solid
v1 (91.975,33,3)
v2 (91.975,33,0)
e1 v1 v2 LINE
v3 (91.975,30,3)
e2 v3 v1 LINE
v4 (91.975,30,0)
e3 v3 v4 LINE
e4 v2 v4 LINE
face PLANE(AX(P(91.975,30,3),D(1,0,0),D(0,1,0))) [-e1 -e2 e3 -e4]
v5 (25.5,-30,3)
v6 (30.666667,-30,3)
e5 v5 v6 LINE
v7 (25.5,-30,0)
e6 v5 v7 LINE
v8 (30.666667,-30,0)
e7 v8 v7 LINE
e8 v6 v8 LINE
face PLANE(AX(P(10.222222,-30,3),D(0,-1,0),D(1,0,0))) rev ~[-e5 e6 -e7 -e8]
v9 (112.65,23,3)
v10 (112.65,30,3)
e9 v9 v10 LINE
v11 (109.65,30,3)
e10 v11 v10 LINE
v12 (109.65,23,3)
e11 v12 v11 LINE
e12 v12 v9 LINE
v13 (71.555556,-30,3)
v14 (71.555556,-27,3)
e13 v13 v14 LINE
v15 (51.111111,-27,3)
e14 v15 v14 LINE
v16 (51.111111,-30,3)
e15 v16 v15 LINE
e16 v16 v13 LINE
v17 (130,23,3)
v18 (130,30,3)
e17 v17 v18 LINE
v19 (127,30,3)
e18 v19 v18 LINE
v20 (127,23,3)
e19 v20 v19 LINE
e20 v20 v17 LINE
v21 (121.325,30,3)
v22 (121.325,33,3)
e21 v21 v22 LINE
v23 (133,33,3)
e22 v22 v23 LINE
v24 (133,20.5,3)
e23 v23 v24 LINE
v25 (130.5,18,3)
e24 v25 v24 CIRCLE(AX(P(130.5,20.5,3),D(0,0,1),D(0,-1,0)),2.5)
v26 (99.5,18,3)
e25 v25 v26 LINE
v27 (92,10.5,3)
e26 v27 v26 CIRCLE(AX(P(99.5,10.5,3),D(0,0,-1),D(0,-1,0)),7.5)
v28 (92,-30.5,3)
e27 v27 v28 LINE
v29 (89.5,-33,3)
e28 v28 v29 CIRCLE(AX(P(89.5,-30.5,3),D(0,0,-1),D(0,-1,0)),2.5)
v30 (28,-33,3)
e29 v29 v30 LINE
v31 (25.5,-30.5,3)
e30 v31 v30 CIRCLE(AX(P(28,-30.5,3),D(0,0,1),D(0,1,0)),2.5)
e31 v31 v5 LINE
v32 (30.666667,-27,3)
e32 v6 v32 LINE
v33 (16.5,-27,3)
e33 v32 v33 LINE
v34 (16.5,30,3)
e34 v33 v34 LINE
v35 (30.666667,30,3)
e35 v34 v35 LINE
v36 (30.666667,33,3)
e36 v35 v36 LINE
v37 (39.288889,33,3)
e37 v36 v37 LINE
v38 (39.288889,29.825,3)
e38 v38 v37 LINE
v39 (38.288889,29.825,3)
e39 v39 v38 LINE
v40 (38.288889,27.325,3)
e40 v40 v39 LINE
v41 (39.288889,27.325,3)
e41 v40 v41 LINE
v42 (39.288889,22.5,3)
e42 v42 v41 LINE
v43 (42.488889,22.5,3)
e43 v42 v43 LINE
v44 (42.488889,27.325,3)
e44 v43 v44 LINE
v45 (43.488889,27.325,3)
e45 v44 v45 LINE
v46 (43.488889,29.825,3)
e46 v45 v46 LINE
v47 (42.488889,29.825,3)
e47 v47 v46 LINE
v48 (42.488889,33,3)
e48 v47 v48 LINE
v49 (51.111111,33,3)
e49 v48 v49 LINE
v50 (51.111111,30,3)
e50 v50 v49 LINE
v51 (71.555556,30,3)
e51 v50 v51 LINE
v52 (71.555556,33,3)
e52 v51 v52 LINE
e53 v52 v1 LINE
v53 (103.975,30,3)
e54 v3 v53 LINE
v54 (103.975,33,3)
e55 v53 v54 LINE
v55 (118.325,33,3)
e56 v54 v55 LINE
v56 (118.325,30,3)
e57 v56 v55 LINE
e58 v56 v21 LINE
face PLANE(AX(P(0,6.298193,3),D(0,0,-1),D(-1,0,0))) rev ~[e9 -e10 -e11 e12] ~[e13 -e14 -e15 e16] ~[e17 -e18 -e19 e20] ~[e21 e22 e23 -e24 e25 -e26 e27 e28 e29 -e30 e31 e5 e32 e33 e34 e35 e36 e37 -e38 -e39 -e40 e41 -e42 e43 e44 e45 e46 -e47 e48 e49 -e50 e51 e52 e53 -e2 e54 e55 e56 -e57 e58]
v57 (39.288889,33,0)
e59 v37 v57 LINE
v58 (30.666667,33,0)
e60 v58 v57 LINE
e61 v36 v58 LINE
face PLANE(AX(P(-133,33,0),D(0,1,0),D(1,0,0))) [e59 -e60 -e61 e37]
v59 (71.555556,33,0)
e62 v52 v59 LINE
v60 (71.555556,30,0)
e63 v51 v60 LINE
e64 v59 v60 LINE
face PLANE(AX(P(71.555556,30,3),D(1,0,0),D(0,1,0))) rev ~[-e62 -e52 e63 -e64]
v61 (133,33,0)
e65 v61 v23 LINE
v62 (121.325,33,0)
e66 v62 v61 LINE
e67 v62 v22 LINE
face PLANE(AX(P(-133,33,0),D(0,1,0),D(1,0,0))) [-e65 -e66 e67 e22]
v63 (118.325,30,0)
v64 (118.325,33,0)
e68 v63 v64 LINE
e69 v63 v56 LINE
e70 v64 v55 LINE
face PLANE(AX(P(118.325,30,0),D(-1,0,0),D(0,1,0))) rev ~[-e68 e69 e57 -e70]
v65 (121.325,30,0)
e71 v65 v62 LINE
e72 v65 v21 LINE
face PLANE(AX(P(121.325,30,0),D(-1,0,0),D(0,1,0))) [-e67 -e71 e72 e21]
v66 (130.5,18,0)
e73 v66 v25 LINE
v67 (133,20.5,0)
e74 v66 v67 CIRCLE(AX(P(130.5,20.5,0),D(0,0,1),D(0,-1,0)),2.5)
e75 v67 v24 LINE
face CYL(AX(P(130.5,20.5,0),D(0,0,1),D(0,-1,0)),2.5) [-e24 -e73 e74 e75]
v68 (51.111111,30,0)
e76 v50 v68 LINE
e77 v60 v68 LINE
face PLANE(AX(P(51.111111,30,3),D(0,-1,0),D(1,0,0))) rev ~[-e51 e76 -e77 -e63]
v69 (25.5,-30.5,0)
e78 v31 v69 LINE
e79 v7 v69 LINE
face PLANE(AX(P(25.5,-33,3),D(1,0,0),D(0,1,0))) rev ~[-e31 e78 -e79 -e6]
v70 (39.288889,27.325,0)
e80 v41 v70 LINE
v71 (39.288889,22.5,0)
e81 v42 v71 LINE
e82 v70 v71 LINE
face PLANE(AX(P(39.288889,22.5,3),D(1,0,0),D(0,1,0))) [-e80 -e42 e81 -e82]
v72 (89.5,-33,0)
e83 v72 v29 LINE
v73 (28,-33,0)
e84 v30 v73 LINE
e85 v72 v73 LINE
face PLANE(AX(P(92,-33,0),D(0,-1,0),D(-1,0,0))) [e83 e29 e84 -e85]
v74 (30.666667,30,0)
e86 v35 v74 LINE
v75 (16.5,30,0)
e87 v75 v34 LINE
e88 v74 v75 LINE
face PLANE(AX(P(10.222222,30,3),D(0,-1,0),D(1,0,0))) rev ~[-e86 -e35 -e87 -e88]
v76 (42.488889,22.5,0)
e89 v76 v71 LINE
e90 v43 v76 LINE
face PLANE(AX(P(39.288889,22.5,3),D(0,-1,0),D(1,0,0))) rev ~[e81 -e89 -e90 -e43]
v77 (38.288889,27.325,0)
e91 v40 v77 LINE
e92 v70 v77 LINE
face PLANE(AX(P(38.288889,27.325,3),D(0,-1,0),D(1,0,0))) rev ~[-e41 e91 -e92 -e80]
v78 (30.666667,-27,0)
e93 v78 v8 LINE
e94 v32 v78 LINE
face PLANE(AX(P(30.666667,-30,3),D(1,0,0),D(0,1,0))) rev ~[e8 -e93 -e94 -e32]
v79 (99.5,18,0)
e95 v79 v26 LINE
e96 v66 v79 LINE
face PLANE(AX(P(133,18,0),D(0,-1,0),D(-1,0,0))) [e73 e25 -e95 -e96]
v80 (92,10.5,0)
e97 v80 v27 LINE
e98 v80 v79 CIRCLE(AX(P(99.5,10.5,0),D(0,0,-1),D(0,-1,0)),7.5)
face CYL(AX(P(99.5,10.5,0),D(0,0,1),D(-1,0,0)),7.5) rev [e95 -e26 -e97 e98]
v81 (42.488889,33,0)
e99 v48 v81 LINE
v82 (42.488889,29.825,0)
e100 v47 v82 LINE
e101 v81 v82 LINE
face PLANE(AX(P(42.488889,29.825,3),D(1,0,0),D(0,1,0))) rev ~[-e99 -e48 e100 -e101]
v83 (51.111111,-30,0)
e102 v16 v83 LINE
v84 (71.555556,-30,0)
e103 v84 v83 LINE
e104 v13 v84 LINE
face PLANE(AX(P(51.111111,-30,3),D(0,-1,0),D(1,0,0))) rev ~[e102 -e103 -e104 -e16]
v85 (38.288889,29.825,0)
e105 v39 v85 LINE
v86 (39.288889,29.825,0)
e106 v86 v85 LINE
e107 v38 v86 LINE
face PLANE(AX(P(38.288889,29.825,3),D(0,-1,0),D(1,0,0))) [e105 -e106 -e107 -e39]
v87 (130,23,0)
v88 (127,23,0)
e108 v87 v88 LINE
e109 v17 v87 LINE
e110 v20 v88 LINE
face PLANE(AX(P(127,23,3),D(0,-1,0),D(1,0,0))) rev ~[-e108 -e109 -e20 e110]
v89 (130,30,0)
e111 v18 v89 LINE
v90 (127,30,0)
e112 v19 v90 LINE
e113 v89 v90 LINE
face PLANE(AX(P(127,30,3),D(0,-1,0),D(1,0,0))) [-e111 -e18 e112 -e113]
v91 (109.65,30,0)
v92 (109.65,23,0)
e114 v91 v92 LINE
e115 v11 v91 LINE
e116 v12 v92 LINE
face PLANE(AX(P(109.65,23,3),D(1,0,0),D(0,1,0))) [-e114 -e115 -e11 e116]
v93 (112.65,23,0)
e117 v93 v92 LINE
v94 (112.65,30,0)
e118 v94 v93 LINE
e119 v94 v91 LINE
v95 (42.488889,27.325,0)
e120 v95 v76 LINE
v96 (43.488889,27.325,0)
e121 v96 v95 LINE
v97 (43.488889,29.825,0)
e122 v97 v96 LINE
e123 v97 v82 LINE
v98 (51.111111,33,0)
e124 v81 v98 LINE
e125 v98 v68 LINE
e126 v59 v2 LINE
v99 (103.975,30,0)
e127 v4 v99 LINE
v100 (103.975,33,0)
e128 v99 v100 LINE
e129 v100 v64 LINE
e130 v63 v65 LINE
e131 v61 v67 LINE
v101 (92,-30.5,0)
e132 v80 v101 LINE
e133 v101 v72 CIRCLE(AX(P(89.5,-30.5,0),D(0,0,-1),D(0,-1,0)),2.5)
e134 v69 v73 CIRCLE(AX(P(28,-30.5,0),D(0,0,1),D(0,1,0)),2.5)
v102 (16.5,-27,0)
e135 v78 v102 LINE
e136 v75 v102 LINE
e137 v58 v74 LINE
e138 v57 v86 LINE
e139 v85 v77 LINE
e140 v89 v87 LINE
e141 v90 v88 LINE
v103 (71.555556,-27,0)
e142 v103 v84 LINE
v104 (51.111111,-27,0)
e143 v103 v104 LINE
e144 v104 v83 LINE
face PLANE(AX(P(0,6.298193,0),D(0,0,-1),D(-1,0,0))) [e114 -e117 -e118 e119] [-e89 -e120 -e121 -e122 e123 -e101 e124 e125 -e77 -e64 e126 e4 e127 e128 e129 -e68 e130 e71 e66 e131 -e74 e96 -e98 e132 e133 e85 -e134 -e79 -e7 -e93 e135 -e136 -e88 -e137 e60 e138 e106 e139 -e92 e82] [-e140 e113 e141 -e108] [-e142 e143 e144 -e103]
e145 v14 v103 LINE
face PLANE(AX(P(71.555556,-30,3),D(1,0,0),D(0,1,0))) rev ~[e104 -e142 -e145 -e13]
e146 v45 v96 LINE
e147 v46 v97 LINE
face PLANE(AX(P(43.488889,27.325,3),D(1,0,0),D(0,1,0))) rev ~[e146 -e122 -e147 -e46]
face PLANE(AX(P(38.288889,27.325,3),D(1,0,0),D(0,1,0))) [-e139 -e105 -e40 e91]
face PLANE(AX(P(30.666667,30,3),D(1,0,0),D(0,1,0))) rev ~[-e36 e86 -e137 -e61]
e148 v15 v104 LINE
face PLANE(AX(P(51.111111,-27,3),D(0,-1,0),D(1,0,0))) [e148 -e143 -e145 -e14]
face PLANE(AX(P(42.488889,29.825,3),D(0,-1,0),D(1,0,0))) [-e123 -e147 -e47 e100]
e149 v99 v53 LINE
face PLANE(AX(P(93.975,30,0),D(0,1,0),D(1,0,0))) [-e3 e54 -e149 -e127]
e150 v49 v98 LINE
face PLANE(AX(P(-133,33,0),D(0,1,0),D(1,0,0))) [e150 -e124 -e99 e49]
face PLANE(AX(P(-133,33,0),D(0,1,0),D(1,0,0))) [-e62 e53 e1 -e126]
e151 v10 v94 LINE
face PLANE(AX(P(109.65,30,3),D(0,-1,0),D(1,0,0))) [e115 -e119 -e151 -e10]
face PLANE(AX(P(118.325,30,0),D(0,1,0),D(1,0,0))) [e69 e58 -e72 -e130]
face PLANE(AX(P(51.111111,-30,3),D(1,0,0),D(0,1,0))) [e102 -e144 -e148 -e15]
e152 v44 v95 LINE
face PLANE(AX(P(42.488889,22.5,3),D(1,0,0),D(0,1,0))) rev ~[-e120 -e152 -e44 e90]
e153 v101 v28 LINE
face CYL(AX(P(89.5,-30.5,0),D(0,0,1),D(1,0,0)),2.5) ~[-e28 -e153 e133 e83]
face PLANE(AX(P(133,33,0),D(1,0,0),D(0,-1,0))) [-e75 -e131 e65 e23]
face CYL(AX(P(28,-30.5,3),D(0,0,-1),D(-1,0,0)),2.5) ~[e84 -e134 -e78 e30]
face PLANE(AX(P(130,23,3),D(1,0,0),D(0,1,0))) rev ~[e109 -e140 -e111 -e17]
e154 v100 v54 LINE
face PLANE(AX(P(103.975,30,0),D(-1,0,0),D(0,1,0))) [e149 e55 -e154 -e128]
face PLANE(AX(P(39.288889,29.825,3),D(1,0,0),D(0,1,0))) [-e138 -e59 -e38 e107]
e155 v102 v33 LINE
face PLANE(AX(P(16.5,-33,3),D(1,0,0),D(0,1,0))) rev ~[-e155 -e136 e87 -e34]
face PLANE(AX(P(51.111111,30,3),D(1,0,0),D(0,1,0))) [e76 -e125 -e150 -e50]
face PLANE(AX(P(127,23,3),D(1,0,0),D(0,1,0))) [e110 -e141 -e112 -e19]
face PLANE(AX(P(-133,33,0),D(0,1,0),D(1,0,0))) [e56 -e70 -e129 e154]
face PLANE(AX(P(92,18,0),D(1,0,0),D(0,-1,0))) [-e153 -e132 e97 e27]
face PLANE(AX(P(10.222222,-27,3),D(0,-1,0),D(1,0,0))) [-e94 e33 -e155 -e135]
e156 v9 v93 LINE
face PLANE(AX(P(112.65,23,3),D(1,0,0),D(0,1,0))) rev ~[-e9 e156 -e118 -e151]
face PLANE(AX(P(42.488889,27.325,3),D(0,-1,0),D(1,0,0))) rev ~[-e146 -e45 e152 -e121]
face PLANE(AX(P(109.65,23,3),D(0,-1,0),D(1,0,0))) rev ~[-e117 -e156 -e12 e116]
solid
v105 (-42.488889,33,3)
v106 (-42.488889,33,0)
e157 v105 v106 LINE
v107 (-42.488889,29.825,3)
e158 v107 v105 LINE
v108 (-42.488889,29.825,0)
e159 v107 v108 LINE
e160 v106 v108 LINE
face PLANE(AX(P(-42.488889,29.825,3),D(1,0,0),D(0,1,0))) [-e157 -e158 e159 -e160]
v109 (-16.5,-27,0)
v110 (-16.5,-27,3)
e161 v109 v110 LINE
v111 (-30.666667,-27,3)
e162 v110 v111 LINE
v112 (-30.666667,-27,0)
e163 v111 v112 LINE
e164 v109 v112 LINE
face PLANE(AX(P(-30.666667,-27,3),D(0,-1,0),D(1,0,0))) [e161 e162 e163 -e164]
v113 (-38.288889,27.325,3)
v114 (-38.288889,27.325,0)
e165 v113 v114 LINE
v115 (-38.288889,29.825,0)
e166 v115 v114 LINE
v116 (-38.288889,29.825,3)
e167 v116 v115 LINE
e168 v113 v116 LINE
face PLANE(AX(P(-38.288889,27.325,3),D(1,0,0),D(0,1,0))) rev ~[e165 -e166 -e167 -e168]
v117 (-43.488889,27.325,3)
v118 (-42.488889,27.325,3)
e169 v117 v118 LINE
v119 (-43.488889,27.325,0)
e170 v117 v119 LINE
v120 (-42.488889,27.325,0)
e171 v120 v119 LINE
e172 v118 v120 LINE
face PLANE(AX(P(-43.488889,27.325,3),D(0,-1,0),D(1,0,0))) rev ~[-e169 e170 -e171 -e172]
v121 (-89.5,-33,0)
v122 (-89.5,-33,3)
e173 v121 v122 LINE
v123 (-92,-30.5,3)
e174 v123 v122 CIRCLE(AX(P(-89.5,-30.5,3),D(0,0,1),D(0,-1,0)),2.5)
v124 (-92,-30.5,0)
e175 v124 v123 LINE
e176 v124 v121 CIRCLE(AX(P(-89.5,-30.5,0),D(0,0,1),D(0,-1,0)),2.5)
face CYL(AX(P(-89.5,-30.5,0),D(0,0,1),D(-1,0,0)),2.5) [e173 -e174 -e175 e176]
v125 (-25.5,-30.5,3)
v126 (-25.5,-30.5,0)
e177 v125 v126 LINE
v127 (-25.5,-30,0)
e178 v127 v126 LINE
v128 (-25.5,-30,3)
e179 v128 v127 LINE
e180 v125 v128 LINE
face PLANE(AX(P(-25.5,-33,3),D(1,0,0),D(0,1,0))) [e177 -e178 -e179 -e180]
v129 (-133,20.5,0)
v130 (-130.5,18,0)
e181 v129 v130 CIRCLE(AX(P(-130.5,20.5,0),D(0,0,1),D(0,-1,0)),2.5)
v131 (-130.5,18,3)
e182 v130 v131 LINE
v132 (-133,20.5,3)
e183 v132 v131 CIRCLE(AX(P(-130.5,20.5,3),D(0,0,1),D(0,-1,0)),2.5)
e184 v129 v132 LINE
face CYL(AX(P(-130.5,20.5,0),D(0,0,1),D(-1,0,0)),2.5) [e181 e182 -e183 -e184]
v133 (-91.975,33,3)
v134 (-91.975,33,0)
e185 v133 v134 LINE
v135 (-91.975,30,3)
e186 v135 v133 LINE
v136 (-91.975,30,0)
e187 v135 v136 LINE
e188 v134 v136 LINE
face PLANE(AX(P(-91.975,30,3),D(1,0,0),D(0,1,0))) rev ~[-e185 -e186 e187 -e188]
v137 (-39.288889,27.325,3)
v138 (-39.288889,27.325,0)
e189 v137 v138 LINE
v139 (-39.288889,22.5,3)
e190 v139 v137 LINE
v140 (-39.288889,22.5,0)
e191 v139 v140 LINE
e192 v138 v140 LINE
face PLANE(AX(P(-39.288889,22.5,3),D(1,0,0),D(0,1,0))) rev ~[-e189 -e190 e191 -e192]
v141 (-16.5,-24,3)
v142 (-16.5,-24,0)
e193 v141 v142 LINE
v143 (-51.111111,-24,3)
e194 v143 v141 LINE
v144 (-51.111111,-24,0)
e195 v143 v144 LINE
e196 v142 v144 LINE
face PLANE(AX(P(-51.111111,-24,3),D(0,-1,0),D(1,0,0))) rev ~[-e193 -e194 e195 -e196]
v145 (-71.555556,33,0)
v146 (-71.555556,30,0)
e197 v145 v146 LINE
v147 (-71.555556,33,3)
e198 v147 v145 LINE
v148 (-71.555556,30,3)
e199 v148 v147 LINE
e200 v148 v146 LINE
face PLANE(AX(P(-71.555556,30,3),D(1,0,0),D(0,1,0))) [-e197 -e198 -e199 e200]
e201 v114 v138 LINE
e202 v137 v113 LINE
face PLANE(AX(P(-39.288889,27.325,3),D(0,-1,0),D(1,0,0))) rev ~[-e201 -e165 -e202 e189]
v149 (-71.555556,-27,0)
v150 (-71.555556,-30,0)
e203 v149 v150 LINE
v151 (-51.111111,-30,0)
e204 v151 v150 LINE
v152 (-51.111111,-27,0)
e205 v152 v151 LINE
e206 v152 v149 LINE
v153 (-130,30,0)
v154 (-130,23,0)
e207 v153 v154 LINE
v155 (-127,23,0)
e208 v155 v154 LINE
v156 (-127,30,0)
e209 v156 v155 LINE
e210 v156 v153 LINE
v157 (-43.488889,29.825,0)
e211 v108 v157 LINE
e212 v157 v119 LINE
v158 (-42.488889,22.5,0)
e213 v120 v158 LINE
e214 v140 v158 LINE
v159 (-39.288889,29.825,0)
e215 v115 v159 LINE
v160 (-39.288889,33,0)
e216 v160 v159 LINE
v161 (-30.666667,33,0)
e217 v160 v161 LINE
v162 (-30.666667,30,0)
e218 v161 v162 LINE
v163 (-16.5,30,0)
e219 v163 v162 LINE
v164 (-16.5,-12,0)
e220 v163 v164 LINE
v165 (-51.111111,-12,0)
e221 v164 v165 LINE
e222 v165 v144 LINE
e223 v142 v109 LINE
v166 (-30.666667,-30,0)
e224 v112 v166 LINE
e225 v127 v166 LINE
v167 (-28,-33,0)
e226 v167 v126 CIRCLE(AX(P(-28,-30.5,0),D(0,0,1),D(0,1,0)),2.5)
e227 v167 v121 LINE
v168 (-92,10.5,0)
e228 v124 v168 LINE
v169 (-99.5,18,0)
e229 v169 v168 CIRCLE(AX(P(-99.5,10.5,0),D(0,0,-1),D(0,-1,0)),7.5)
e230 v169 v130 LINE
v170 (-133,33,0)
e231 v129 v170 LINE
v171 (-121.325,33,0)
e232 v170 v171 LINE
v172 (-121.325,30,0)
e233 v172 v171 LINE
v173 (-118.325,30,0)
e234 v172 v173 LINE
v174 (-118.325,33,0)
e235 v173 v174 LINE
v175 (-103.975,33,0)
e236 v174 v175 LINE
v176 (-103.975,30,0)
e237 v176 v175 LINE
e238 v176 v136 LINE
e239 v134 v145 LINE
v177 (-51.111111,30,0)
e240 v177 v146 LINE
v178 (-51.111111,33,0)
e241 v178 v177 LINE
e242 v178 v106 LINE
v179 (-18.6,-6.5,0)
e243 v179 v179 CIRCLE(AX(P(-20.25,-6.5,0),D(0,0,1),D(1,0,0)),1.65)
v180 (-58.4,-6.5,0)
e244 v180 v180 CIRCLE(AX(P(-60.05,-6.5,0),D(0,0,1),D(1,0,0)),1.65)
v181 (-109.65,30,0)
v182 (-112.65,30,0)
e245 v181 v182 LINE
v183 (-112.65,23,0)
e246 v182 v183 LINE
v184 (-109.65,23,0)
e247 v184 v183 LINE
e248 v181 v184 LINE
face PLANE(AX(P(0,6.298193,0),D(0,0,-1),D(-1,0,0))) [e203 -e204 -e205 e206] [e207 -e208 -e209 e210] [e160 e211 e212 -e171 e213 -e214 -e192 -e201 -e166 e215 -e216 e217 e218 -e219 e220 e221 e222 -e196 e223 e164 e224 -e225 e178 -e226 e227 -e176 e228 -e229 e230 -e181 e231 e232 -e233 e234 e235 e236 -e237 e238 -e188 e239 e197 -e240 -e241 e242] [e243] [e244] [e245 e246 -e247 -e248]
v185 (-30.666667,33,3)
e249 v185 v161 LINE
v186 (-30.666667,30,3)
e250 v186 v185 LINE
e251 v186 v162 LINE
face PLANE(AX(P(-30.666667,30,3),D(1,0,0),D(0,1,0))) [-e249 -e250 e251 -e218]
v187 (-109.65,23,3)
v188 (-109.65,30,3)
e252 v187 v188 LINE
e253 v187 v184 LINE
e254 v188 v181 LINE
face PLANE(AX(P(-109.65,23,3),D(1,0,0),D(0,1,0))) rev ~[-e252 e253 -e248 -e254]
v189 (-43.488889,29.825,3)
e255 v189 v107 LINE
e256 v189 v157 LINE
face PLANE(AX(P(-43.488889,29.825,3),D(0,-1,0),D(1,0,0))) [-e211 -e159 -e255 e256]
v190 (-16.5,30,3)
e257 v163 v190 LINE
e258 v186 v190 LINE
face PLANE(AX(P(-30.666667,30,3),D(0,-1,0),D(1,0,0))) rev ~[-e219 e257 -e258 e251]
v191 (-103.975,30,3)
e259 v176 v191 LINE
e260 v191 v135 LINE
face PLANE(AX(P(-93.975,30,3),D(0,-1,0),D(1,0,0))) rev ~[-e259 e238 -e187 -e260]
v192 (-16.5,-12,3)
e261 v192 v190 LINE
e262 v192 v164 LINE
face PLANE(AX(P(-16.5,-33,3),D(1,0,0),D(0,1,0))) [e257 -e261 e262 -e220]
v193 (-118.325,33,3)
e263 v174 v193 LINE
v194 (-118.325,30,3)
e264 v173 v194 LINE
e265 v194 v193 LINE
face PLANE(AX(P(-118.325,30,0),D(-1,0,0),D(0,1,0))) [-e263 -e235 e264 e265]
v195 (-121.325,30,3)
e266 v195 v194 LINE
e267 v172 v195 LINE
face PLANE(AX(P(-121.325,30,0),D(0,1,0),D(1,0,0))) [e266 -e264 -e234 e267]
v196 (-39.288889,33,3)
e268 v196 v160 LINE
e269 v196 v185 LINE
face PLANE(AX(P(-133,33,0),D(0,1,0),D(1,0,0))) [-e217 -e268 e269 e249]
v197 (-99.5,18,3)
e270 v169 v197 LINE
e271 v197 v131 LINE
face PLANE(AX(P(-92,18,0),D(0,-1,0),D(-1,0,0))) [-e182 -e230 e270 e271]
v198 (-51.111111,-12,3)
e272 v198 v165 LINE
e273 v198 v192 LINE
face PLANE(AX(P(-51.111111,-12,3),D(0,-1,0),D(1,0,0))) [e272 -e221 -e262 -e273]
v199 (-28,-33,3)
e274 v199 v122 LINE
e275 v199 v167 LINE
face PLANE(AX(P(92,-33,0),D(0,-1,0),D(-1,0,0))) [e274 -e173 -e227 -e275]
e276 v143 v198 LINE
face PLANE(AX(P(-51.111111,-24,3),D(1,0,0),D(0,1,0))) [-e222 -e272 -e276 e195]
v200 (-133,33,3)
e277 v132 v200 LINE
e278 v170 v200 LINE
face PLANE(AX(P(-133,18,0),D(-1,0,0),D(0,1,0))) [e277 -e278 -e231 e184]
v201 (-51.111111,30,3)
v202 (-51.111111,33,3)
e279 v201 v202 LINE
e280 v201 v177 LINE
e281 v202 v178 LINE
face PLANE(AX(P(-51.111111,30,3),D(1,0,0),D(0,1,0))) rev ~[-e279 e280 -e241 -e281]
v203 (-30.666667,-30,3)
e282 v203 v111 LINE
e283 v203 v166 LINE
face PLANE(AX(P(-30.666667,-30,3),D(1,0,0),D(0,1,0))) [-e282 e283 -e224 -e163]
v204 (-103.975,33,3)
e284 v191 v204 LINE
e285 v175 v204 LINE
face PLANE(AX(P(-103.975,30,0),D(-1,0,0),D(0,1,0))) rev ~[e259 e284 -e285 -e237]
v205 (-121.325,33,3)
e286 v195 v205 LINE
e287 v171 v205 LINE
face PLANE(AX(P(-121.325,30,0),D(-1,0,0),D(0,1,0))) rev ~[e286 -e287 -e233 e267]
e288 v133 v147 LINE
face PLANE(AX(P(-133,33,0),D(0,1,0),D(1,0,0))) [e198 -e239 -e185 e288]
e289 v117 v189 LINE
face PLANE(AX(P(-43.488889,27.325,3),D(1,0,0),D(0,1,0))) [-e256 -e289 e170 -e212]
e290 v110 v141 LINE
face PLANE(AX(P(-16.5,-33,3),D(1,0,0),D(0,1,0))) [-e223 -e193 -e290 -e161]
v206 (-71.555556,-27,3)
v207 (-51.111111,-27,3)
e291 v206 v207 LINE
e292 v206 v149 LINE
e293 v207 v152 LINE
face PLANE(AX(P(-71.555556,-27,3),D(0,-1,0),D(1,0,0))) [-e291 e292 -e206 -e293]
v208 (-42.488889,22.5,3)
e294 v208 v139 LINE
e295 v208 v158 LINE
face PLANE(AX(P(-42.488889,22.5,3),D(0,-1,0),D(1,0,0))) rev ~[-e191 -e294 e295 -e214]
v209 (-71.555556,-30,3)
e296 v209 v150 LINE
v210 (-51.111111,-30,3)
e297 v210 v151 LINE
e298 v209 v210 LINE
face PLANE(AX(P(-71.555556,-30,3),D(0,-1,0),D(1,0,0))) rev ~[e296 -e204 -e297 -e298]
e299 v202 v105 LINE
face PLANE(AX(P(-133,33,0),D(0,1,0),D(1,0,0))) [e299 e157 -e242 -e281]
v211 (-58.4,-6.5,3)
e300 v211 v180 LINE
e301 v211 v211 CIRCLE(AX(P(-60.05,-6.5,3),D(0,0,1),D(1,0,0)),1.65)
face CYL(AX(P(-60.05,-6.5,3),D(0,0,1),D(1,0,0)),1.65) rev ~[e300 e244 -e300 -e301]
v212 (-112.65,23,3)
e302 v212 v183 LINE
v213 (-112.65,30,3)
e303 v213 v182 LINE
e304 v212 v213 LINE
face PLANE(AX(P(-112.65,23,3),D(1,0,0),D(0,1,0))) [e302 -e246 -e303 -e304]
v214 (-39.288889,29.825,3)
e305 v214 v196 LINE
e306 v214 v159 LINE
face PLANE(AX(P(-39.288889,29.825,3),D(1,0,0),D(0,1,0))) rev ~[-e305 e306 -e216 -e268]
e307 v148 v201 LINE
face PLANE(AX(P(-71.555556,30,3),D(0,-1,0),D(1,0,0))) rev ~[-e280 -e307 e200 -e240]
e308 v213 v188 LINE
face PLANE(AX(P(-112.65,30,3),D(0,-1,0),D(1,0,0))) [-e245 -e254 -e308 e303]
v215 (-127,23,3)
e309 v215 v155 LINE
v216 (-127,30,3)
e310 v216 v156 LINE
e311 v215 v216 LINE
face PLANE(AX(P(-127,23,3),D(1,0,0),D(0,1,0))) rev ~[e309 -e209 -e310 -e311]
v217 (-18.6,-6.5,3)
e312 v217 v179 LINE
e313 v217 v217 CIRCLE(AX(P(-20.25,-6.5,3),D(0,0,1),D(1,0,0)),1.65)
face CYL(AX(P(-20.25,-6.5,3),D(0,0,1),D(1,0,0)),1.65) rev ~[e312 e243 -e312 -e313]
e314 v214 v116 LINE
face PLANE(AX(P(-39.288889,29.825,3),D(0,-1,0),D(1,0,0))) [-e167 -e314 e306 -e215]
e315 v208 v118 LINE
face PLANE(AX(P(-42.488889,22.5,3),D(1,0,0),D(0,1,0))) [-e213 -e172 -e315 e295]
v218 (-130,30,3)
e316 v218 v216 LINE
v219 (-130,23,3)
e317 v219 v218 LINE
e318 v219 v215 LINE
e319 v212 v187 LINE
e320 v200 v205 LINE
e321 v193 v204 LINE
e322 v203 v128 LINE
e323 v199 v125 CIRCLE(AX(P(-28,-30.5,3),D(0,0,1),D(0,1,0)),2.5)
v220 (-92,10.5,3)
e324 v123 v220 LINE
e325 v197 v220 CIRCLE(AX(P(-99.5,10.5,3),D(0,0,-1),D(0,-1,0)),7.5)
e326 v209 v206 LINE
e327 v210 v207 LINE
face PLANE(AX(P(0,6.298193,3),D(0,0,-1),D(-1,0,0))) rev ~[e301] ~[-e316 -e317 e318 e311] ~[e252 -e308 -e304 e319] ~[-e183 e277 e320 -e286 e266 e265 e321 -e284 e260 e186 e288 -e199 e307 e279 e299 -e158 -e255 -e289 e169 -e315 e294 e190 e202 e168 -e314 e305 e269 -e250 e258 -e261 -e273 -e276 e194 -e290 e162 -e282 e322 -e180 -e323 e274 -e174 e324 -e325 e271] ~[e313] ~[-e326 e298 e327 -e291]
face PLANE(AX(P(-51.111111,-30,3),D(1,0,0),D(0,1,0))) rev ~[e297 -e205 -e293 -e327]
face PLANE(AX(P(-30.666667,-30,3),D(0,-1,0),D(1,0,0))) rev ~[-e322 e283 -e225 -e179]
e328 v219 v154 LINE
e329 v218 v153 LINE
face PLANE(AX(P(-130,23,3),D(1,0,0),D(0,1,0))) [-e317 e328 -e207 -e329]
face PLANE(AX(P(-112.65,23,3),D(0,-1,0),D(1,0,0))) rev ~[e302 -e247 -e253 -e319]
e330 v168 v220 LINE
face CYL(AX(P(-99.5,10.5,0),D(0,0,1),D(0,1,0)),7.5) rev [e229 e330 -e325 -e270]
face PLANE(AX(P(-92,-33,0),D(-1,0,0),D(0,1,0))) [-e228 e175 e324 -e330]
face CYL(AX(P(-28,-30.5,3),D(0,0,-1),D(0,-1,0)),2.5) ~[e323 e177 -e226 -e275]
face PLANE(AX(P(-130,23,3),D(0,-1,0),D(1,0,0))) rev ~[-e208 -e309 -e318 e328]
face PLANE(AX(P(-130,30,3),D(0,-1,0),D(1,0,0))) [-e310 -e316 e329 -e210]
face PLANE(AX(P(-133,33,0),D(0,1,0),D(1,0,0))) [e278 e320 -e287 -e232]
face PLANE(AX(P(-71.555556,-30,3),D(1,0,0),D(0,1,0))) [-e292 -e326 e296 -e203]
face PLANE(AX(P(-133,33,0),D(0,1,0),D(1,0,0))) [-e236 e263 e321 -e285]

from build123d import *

# Parameters (mm, degrees)
BOSS_EXTRUDE1_DEPTH     = 3
SKETCH3_W               = 3
SKETCH3_H               = 7
SKETCH3_W_2             = 20.444444445
SKETCH3_H_2             = 3
CUT_EXTRUDE1_DEPTH      = 1
CUT_EXTRUDE1_DEPTH_BACK = 4
FILLET1_R               = 7.5
SKETCH4_W               = 3.2
SKETCH4_H               = 10.5
SKETCH4_W_2             = 5.2
SKETCH4_H_2             = 2.5
CUT_EXTRUDE2_DEPTH      = 1
CUT_EXTRUDE2_DEPTH_BACK = 4
SKETCH5_W               = 33
SKETCH5_H               = 66
CUT_EXTRUDE3_DEPTH      = 1
CUT_EXTRUDE3_DEPTH_BACK = 4
SKETCH6_R               = 1.65
SKETCH6_W               = 34.611111111
SKETCH6_H               = 12
CUT_EXTRUDE4_DEPTH      = 1
CUT_EXTRUDE4_DEPTH_BACK = 4
SKETCH9_W               = 9
SKETCH9_H               = 3
CUT_EXTRUDE7_DEPTH      = 1
CUT_EXTRUDE7_DEPTH_BACK = 4
FILLET2_R               = 2.5
FILLET3_R               = 2.5
SKETCH7_W               = 3
SKETCH7_H               = 3
SKETCH7_W_2             = 10
CUT_EXTRUDE5_DEPTH      = 4
CUT_EXTRUDE5_DEPTH_BACK = 1
SKETCH8_W               = 2
SKETCH8_H               = 3
CUT_EXTRUDE6_DEPTH      = 1
CUT_EXTRUDE6_DEPTH_BACK = 4


with BuildPart() as part:
    # Sketch2 → Boss-Extrude1 (new body)
    with BuildSketch(Plane.XY):
        Polygon((-133, 33), (133, 33), (133, 18), (92, 18), (92, -33), (-92, -33), (-92, 18), (-133, 18), align=None)
    extrude(amount=BOSS_EXTRUDE1_DEPTH)

    # Sketch3 → Cut-Extrude1 (cut, two sides)
    with BuildSketch(Plane.XY.offset(3)) as cut_extrude1_sk:
        with Locations((-128.5, 26.5)):
            Rectangle(SKETCH3_W, SKETCH3_H)
        with Locations((-111.15, 26.5)):
            Rectangle(SKETCH3_W, SKETCH3_H)
        with Locations((-61.333333334, 31.5)):
            Rectangle(SKETCH3_W_2, SKETCH3_H_2)
        with Locations((-20.444444445, 31.5)):
            Rectangle(SKETCH3_W_2, SKETCH3_H_2)
        with Locations((20.444444445, 31.5)):
            Rectangle(SKETCH3_W_2, SKETCH3_H_2)
        with Locations((61.333333334, 31.5)):
            Rectangle(SKETCH3_W_2, SKETCH3_H_2)
        with Locations((128.5, 26.5)):
            Rectangle(SKETCH3_W, SKETCH3_H)
        with Locations((111.15, 26.5)):
            Rectangle(SKETCH3_W, SKETCH3_H)
        with Locations((-61.333333334, -28.5)):
            Rectangle(SKETCH3_W_2, SKETCH3_H_2)
        with Locations((-20.444444445, -28.5)):
            Rectangle(SKETCH3_W_2, SKETCH3_H_2)
        with Locations((20.444444445, -28.5)):
            Rectangle(SKETCH3_W_2, SKETCH3_H_2)
        with Locations((61.333333334, -28.5)):
            Rectangle(SKETCH3_W_2, SKETCH3_H_2)
    extrude(amount=CUT_EXTRUDE1_DEPTH, mode=Mode.SUBTRACT)
    extrude(cut_extrude1_sk.sketch, amount=-CUT_EXTRUDE1_DEPTH_BACK, mode=Mode.SUBTRACT)

    # Fillet1
    fillet1_edges = [part.edges().sort_by_distance(p)[0] for p in [
        (92, 18, 1.5),
        (-92, 18, 1.5),
    ]]
    fillet(fillet1_edges, radius=FILLET1_R)

    # Sketch4 → Cut-Extrude2 (cut, two sides)
    with BuildSketch(Plane.XY.offset(3)) as cut_extrude2_sk:
        with Locations((-40.888888889, 27.75)):
            Rectangle(SKETCH4_W, SKETCH4_H)
        with Locations((40.888888889, 27.75)):
            Rectangle(SKETCH4_W, SKETCH4_H)
        with Locations((40.888888889, 28.575)):
            Rectangle(SKETCH4_W_2, SKETCH4_H_2)
        with Locations((-40.888888889, 28.575)):
            Rectangle(SKETCH4_W_2, SKETCH4_H_2)
    extrude(amount=CUT_EXTRUDE2_DEPTH, mode=Mode.SUBTRACT)
    extrude(cut_extrude2_sk.sketch, amount=-CUT_EXTRUDE2_DEPTH_BACK, mode=Mode.SUBTRACT)

    # Sketch5 → Cut-Extrude3 (cut, two sides)
    with BuildSketch(Plane.XY.offset(3)) as cut_extrude3_sk:
        Rectangle(SKETCH5_W, SKETCH5_H)
    extrude(amount=CUT_EXTRUDE3_DEPTH, mode=Mode.SUBTRACT)
    extrude(cut_extrude3_sk.sketch, amount=-CUT_EXTRUDE3_DEPTH_BACK, mode=Mode.SUBTRACT)

    # Sketch6 → Cut-Extrude4 (cut, two sides)
    with BuildSketch(Plane.XY.offset(3)) as cut_extrude4_sk:
        with Locations((-20.25, -6.5)):
            Circle(SKETCH6_R)
        with Locations((-60.05, -6.5)):
            Circle(SKETCH6_R)
        with Locations((-33.805555556, -18)):
            Rectangle(SKETCH6_W, SKETCH6_H)
    extrude(amount=CUT_EXTRUDE4_DEPTH, mode=Mode.SUBTRACT)
    extrude(cut_extrude4_sk.sketch, amount=-CUT_EXTRUDE4_DEPTH_BACK, mode=Mode.SUBTRACT)

    # Sketch9 → Cut-Extrude7 (cut, two sides)
    with BuildSketch(Plane.XY.offset(3)) as cut_extrude7_sk:
        with Locations((-21, -31.5)):
            Rectangle(SKETCH9_W, SKETCH9_H)
        with Locations((21, -31.5)):
            Rectangle(SKETCH9_W, SKETCH9_H)
    extrude(amount=CUT_EXTRUDE7_DEPTH, mode=Mode.SUBTRACT)
    extrude(cut_extrude7_sk.sketch, amount=-CUT_EXTRUDE7_DEPTH_BACK, mode=Mode.SUBTRACT)

    # Fillet2
    fillet2_edges = [part.edges().sort_by_distance(p)[0] for p in [
        (92, -33, 1.5),
        (133, 18, 1.5),
        (25.5, -33, 1.5),
    ]]
    fillet(fillet2_edges, radius=FILLET2_R)

    # Fillet3
    fillet3_edges = [part.edges().sort_by_distance(p)[0] for p in [
        (-92, -33, 1.5),
        (-133, 18, 1.5),
        (-25.5, -33, 1.5),
    ]]
    fillet(fillet3_edges, radius=FILLET3_R)

    # Sketch7 → Cut-Extrude5 (cut, two sides)
    with BuildSketch(Plane.XY) as cut_extrude5_sk:
        with Locations((-119.825, 31.5)):
            Rectangle(SKETCH7_W, SKETCH7_H)
        with Locations((119.825, 31.5)):
            Rectangle(SKETCH7_W, SKETCH7_H)
        with Locations((-98.975, 31.5)):
            Rectangle(SKETCH7_W_2, SKETCH7_H)
        with Locations((98.975, 31.5)):
            Rectangle(SKETCH7_W_2, SKETCH7_H)
    extrude(amount=CUT_EXTRUDE5_DEPTH, mode=Mode.SUBTRACT)
    extrude(cut_extrude5_sk.sketch, amount=-CUT_EXTRUDE5_DEPTH_BACK, mode=Mode.SUBTRACT)

    # Sketch8 → Cut-Extrude6 (cut, two sides)
    with BuildSketch(Plane.XY.offset(3)) as cut_extrude6_sk:
        with Locations((-92.975, 31.5)):
            Rectangle(SKETCH8_W, SKETCH8_H)
        with Locations((92.975, 31.5)):
            Rectangle(SKETCH8_W, SKETCH8_H)
    extrude(amount=CUT_EXTRUDE6_DEPTH, mode=Mode.SUBTRACT)
    extrude(cut_extrude6_sk.sketch, amount=-CUT_EXTRUDE6_DEPTH_BACK, mode=Mode.SUBTRACT)


solid = part.part
